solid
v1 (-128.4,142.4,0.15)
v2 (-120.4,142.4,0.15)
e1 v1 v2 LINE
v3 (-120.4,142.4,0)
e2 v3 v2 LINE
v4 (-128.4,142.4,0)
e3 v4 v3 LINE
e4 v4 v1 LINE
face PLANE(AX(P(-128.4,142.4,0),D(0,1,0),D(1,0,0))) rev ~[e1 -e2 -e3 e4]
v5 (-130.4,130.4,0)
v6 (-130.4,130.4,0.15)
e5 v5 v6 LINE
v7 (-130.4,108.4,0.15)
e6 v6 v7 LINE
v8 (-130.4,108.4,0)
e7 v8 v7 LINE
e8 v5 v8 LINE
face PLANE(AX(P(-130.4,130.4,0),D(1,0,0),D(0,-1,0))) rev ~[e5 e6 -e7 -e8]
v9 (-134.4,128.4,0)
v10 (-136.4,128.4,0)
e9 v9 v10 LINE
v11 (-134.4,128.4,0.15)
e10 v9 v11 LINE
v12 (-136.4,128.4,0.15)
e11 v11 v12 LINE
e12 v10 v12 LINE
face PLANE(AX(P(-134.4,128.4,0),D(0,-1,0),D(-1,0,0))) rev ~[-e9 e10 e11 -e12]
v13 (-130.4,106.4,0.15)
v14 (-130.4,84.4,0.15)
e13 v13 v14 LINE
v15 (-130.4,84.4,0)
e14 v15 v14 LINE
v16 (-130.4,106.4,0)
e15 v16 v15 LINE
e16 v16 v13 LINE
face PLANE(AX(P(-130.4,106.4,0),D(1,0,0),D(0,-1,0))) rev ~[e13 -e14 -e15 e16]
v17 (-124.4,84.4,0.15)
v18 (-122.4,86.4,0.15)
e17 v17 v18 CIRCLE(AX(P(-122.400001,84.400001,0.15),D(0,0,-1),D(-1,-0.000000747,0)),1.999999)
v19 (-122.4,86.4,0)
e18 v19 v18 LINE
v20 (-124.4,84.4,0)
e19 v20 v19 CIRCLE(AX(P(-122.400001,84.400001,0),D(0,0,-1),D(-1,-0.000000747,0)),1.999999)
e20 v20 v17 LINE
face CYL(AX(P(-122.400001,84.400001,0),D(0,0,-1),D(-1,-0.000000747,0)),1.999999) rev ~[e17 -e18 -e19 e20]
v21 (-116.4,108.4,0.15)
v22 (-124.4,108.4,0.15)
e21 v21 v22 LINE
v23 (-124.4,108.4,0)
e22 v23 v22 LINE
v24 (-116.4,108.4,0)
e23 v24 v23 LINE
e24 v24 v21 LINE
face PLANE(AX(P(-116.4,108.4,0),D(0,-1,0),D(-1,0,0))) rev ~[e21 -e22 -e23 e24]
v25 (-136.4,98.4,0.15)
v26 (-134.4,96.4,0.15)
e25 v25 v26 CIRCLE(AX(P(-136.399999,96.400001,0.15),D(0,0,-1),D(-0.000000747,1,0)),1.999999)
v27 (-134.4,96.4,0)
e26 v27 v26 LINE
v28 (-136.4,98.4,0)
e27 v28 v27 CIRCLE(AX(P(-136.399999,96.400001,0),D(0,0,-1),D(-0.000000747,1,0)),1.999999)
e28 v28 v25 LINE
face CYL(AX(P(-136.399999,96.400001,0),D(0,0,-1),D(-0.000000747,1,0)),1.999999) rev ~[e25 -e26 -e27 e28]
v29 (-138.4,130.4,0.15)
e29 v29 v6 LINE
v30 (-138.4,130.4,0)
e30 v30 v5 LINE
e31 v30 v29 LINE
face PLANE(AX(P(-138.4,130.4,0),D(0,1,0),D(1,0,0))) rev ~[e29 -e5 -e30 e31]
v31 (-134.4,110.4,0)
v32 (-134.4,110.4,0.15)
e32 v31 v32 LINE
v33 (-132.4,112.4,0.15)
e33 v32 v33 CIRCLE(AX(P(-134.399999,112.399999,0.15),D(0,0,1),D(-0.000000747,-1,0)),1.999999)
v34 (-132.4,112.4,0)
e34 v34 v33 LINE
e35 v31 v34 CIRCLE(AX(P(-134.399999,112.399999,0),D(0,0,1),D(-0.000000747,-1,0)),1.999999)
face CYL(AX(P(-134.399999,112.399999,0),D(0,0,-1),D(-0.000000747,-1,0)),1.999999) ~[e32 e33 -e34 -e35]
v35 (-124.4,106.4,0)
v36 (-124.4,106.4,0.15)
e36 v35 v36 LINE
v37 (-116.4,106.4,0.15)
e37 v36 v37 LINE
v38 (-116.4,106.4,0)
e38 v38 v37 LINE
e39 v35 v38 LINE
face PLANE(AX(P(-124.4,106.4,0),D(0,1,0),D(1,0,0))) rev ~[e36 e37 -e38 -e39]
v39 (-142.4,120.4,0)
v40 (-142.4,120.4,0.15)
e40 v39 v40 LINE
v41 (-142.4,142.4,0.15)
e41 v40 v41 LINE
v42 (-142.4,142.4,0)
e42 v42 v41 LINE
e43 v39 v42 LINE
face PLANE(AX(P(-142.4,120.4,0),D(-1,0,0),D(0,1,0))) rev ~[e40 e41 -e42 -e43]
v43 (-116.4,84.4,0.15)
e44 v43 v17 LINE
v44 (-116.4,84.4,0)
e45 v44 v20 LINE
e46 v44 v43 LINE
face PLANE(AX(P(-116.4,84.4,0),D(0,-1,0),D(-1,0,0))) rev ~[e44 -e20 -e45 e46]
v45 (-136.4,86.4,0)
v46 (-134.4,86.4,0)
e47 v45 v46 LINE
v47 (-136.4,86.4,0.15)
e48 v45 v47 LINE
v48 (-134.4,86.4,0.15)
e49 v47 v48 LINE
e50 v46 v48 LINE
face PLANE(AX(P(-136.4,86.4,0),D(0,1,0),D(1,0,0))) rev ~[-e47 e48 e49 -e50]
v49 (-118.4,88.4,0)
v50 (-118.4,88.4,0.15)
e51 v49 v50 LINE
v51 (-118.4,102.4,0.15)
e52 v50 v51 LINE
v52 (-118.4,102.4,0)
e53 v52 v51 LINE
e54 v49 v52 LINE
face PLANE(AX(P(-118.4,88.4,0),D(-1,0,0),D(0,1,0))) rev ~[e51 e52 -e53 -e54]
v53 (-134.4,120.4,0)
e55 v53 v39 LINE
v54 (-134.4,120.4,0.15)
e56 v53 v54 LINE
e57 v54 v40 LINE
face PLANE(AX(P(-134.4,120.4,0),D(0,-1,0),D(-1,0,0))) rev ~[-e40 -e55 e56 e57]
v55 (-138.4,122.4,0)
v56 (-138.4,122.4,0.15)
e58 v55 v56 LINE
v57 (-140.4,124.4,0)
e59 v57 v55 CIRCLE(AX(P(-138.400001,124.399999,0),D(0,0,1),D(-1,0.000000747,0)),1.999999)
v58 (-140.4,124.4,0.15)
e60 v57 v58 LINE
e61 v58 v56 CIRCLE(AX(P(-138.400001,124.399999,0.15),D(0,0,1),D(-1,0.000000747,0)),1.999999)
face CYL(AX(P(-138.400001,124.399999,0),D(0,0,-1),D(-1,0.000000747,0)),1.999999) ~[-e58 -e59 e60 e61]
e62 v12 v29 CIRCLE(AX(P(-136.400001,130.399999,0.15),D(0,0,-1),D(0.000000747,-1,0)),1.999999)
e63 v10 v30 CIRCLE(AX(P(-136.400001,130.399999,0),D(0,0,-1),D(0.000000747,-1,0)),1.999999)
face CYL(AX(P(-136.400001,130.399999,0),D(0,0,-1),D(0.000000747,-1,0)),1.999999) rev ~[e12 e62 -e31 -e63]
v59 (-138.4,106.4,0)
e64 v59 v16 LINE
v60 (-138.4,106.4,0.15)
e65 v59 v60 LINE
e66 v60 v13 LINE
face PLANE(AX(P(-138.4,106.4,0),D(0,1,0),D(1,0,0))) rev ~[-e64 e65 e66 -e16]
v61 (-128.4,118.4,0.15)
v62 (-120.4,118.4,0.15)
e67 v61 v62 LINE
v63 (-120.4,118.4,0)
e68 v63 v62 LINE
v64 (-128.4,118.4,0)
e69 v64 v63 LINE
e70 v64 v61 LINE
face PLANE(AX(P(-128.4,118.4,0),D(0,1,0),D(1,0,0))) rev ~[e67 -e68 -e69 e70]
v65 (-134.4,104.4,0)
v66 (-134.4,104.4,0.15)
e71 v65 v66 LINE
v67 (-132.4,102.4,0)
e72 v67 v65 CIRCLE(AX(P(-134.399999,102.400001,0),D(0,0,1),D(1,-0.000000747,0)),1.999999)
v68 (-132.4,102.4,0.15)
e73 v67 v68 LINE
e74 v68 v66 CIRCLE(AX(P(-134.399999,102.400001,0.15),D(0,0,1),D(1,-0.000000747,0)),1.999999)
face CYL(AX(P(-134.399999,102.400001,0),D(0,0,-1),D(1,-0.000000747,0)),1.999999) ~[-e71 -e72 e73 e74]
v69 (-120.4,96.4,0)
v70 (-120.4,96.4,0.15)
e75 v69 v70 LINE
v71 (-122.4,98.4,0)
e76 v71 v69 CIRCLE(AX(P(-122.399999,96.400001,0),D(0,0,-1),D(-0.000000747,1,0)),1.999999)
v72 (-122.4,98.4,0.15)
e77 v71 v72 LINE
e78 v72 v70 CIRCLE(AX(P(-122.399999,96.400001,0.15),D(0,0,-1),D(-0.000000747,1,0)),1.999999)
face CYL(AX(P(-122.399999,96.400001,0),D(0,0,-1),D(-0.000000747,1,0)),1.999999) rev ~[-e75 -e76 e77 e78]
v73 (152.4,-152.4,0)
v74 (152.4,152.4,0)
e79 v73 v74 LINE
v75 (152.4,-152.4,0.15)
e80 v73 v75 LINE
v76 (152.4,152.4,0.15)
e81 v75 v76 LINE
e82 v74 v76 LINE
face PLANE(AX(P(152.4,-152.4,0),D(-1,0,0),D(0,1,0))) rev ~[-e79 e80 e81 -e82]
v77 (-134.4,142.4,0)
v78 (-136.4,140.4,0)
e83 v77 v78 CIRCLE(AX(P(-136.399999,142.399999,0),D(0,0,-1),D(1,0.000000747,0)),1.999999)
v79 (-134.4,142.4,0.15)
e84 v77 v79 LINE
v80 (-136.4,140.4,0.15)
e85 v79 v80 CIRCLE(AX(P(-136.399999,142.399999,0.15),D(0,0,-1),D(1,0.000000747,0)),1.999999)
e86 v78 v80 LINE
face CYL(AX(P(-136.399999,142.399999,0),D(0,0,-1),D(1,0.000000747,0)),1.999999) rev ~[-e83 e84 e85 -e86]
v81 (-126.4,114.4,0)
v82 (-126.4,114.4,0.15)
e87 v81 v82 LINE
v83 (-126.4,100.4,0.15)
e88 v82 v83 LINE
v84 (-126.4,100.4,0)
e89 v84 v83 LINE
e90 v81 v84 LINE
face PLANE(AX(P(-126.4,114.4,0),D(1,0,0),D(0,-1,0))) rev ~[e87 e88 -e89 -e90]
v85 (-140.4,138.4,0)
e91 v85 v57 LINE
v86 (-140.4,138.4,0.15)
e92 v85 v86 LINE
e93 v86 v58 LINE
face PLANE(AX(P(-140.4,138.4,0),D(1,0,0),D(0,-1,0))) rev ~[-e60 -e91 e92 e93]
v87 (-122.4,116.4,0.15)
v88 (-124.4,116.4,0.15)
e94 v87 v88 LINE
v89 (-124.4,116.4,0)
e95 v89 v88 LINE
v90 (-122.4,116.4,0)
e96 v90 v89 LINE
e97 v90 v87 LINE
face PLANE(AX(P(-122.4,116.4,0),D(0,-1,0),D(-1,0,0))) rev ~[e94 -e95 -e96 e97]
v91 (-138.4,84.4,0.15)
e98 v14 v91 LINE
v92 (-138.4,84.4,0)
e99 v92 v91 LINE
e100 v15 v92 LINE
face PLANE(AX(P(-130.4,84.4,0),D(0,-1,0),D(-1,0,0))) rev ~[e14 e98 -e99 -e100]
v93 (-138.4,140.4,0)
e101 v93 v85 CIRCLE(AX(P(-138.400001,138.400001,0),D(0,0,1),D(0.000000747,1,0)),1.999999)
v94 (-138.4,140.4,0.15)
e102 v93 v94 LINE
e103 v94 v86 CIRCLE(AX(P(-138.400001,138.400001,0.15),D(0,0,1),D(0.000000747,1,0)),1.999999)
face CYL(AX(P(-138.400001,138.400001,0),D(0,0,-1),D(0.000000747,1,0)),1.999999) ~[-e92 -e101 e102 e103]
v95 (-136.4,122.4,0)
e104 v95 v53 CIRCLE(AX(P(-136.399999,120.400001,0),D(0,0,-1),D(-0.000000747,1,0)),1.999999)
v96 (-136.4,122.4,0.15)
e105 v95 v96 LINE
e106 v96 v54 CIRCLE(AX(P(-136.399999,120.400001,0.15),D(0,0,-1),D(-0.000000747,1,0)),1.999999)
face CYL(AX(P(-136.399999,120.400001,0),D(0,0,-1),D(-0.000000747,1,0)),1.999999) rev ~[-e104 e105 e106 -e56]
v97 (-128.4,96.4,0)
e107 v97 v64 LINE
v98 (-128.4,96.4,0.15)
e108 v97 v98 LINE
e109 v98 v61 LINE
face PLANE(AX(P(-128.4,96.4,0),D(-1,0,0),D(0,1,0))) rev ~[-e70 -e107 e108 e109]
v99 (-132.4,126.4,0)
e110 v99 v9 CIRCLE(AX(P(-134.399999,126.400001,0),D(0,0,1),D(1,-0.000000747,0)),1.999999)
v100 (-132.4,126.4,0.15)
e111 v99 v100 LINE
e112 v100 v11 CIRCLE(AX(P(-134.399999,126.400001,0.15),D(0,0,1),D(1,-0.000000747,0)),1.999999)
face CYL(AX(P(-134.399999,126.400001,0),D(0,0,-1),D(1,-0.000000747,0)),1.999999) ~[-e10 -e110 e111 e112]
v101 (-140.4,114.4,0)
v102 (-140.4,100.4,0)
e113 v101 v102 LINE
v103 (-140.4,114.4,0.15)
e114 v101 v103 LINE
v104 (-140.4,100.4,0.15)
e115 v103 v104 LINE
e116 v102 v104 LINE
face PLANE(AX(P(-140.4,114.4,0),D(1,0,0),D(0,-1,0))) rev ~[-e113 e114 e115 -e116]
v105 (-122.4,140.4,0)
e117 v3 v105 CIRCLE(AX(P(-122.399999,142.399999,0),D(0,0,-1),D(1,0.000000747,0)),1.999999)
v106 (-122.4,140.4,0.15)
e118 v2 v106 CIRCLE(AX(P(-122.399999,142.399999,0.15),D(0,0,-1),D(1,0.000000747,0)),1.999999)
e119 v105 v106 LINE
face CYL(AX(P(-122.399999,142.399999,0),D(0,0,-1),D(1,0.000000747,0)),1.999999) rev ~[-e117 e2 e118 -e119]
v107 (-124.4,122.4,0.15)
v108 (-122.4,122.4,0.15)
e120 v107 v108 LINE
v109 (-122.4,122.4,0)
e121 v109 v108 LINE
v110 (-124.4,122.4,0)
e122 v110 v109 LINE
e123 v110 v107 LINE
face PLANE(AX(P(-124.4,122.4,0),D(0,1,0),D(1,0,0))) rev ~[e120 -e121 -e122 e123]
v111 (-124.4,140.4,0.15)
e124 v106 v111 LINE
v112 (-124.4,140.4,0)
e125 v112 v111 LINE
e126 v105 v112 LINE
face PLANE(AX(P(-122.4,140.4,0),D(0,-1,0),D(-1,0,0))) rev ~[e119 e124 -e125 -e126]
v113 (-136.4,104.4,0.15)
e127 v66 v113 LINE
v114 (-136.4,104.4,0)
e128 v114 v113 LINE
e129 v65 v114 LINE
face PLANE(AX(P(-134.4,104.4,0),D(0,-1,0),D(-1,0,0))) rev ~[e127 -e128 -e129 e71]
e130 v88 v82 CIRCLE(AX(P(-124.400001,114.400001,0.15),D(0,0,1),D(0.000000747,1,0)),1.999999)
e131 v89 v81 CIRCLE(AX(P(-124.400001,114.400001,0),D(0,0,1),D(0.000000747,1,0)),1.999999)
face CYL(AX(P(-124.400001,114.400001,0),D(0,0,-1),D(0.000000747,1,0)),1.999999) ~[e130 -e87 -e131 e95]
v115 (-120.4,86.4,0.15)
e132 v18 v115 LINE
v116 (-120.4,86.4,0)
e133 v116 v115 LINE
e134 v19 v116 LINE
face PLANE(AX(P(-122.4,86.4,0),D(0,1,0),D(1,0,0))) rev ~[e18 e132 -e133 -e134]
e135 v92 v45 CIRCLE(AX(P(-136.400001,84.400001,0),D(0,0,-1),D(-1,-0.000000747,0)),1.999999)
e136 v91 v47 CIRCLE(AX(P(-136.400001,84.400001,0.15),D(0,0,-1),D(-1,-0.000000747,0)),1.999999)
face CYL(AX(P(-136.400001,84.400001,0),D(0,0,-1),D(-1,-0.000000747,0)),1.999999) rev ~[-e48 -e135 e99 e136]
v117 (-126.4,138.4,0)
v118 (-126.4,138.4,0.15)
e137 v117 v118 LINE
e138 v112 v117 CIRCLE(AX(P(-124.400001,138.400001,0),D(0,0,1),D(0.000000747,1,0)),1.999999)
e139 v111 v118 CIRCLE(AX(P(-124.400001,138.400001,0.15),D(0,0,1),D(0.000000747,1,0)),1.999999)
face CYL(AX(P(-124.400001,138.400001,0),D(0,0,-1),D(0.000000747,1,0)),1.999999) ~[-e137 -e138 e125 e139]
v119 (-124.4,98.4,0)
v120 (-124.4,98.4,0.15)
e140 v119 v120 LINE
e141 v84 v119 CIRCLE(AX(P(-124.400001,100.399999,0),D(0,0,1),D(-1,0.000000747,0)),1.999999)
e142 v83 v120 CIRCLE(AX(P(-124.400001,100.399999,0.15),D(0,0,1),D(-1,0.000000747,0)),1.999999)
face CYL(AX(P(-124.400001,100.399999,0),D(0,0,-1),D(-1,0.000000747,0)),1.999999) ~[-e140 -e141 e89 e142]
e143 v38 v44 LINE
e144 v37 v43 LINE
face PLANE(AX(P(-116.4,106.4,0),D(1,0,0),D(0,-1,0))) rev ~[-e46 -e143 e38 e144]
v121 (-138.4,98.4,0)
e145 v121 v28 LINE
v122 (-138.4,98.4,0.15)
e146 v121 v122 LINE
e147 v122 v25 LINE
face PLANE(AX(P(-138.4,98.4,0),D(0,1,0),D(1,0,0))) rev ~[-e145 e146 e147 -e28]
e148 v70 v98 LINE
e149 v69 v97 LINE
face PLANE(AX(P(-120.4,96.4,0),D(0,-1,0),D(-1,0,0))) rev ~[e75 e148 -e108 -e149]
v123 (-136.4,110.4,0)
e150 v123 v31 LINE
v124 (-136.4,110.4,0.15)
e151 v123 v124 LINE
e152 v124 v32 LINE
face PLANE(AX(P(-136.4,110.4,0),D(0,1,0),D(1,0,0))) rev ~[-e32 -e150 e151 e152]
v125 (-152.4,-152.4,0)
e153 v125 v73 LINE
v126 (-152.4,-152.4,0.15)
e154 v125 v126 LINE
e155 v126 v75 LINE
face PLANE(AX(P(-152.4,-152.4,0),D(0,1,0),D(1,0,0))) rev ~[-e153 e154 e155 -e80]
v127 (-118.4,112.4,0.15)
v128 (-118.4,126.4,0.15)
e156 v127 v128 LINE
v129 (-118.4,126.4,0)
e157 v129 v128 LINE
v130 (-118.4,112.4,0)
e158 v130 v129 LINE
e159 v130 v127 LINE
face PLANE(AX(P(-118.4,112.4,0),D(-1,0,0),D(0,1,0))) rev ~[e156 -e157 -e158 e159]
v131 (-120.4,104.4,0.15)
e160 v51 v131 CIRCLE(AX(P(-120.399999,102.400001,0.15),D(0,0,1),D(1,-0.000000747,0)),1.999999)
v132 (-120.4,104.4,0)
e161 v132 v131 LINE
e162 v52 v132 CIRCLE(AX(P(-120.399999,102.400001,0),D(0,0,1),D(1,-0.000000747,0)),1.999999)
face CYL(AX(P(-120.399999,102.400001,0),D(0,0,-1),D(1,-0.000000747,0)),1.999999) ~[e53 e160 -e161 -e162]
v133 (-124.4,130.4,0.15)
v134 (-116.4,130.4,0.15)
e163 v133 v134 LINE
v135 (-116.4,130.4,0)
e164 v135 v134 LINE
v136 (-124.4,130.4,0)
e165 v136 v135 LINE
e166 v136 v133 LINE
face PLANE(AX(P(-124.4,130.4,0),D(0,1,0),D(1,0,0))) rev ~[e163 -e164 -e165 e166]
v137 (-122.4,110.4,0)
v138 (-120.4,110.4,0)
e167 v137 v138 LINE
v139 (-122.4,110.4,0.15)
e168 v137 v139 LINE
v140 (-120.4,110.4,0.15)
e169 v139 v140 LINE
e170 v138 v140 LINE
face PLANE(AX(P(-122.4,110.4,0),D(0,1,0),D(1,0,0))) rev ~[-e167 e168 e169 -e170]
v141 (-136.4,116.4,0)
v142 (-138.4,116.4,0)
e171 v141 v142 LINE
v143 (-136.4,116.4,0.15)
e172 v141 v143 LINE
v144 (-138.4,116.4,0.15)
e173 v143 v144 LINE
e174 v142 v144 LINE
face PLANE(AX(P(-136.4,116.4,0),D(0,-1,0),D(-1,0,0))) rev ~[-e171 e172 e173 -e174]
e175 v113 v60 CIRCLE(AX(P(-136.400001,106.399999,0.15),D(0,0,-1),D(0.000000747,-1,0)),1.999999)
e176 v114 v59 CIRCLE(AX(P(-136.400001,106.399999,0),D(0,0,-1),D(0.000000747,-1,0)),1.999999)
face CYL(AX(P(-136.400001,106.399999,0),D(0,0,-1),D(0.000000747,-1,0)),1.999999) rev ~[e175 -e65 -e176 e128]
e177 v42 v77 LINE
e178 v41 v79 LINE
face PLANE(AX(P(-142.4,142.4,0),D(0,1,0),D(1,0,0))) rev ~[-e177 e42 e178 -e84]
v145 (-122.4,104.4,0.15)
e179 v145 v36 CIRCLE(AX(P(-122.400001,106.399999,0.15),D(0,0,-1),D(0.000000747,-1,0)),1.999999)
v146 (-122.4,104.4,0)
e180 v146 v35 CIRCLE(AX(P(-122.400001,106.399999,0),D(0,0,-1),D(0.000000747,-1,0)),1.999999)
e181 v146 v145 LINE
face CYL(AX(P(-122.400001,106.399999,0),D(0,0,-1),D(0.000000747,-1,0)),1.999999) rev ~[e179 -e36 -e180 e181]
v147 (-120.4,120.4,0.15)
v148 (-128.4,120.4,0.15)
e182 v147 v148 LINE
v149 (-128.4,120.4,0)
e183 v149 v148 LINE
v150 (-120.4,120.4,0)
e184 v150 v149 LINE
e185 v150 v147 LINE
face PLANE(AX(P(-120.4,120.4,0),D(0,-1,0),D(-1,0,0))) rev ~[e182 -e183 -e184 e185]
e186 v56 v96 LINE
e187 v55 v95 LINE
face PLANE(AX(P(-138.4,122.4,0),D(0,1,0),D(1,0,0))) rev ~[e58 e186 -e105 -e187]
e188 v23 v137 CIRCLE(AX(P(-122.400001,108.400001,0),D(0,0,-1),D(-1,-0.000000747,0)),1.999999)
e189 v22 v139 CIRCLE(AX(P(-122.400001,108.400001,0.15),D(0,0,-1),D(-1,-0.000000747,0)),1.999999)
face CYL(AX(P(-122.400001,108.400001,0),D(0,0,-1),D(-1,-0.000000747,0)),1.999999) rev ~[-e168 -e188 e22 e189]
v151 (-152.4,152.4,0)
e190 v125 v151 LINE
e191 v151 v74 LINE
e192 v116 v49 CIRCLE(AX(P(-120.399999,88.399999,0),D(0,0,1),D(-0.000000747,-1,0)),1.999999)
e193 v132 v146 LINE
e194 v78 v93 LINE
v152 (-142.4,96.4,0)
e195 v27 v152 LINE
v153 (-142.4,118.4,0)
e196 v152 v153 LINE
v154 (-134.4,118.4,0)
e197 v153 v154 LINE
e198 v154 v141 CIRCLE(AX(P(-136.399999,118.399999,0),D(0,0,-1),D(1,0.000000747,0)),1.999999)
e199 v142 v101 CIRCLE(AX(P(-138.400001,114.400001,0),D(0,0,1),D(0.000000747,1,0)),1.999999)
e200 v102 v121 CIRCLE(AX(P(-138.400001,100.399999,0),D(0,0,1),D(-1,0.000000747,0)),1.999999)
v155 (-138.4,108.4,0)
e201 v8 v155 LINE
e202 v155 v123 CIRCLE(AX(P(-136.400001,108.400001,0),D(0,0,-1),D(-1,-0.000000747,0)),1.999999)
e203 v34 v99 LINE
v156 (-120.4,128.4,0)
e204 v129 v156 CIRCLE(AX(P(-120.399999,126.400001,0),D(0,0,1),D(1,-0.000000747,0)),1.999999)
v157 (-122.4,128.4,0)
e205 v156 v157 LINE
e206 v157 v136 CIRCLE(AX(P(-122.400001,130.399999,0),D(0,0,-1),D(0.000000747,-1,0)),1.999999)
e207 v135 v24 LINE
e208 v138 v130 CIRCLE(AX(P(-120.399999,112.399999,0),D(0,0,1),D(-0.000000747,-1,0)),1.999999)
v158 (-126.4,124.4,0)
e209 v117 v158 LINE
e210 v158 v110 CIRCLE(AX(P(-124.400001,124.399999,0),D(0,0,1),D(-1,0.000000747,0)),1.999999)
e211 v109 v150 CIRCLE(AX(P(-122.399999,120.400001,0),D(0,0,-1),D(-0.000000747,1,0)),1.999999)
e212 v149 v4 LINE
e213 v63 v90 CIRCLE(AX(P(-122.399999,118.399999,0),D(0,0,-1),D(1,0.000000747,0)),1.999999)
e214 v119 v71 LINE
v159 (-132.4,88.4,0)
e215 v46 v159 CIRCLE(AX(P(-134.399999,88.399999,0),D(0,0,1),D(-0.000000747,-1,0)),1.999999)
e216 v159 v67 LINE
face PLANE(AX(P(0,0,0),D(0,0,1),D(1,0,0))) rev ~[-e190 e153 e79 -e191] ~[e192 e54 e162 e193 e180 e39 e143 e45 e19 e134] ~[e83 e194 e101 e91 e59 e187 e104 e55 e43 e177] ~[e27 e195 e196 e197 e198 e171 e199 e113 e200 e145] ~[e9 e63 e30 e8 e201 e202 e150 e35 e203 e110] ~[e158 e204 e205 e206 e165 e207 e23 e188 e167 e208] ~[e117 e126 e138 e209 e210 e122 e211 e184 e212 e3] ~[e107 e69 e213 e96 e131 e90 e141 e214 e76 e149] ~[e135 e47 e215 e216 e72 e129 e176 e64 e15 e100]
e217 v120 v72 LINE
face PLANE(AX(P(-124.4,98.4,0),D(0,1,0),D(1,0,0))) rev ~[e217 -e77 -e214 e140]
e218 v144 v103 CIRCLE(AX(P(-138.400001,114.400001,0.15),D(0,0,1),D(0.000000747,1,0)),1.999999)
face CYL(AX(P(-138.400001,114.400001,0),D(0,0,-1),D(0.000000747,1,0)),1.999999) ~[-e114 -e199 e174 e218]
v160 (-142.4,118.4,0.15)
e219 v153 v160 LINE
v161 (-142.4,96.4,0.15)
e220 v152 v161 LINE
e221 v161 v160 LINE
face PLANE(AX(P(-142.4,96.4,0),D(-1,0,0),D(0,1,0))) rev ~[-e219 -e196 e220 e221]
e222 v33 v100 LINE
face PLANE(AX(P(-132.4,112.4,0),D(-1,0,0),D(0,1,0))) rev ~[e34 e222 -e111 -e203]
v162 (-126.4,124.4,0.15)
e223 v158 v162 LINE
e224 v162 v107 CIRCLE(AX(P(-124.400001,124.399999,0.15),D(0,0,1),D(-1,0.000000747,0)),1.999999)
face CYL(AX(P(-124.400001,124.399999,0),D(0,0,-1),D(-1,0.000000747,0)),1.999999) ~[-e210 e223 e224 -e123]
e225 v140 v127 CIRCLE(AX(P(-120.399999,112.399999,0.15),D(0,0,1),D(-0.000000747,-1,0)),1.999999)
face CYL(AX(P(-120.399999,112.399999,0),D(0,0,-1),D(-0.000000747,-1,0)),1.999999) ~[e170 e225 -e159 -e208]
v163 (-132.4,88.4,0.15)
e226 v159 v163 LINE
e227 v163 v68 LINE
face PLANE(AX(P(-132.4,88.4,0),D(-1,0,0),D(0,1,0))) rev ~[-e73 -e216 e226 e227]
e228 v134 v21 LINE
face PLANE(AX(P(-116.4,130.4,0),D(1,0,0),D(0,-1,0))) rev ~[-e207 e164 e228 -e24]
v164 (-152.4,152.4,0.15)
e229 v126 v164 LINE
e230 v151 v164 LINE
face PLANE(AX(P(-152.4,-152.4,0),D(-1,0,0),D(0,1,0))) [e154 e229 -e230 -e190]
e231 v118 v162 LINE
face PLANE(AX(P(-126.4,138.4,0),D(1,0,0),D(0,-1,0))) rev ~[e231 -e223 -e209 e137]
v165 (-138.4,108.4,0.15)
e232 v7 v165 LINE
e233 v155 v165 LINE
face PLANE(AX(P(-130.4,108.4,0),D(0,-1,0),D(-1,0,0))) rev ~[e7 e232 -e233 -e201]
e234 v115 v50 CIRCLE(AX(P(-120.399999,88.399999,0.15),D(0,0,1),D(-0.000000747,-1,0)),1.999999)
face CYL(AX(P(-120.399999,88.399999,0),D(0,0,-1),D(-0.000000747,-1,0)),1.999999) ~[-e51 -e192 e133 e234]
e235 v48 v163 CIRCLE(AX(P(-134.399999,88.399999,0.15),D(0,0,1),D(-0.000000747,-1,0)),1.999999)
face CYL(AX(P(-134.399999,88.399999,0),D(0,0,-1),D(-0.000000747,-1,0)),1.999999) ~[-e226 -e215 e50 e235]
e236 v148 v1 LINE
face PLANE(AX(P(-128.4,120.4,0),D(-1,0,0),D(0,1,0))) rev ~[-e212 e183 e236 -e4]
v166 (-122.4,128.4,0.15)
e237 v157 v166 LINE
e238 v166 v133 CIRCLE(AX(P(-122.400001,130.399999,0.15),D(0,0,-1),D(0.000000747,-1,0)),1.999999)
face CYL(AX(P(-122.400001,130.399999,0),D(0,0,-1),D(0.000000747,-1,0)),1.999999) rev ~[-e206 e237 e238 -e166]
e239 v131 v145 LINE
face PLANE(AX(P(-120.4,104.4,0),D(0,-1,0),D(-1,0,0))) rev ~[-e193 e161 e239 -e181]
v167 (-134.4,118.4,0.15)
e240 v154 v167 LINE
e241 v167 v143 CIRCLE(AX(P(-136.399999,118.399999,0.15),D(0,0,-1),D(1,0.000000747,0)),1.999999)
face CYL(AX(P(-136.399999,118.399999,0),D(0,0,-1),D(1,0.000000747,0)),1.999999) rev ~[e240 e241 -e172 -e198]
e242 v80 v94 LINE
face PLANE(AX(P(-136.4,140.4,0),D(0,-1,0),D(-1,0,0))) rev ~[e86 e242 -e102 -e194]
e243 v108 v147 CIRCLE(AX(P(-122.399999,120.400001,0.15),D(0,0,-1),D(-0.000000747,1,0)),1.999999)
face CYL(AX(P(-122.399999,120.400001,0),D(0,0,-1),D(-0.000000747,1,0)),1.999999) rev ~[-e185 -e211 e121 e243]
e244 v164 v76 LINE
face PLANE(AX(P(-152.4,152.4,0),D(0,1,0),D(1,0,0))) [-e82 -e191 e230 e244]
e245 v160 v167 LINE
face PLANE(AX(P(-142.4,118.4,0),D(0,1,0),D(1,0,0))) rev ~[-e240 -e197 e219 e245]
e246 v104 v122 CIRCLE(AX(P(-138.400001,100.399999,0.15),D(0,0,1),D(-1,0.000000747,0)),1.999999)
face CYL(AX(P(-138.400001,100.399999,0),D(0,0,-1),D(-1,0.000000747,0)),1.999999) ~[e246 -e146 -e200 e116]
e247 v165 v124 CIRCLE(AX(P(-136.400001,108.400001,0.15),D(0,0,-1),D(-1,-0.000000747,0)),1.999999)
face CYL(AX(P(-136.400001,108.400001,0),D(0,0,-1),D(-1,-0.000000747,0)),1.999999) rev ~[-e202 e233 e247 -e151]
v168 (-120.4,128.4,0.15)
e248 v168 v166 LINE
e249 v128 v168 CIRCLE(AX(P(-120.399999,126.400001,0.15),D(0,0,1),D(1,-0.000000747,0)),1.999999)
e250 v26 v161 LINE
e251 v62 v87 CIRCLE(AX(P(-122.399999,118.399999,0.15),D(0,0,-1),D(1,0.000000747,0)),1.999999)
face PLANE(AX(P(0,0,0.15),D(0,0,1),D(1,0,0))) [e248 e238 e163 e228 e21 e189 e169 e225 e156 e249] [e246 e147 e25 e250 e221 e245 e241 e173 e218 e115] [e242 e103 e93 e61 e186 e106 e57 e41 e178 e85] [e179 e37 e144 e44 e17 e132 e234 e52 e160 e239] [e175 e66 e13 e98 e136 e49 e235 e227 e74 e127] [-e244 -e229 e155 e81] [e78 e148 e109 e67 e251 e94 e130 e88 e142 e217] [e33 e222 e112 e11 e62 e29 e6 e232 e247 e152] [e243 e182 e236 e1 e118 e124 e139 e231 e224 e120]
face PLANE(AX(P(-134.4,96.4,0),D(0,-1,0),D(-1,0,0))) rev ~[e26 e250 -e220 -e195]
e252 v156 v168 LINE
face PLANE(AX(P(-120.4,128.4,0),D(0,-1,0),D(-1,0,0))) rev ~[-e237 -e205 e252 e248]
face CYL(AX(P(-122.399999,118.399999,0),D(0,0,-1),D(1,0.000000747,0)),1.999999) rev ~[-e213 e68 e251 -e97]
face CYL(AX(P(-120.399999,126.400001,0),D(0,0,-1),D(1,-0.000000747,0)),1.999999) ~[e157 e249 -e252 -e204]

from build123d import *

# Parameters (mm, degrees)
F0_W     = 304.8
F0_H     = 304.8
F1_DEPTH = 0.15


with BuildPart() as f1:
    # F0 (on Top) → F1 (new body)
    with BuildSketch(Plane.XY):
        Rectangle(F0_W, F0_H)
        with BuildLine():
            Line((-132.4, 88.4), (-132.4, 95.4))
            Line((-132.4, 95.4), (-132.4, 102.4))
            ThreePointArc((-132.4, 102.4), (-132.985786, 103.814214), (-134.4, 104.4))
            Line((-134.4, 104.4), (-136.4, 104.4))
            ThreePointArc((-136.4, 104.4), (-137.814214, 104.985786), (-138.4, 106.4))
            Line((-138.4, 106.4), (-130.4, 106.4))
            Line((-130.4, 106.4), (-130.4, 95.4))
            Line((-130.4, 95.4), (-130.4, 84.4))
            Line((-130.4, 84.4), (-138.4, 84.4))
            ThreePointArc((-138.4, 84.4), (-137.814214, 85.814214), (-136.4, 86.4))
            Line((-136.4, 86.4), (-134.4, 86.4))
            ThreePointArc((-134.4, 86.4), (-132.985786, 86.985786), (-132.4, 88.4))
        make_face(mode=Mode.SUBTRACT)
        with BuildLine():
            Line((-140.4, 114.4), (-140.4, 107.4))
            Line((-140.4, 107.4), (-140.4, 100.4))
            ThreePointArc((-140.4, 100.4), (-139.814214, 98.985786), (-138.4, 98.4))
            Line((-138.4, 98.4), (-136.4, 98.4))
            ThreePointArc((-136.4, 98.4), (-134.985786, 97.814214), (-134.4, 96.4))
            Line((-134.4, 96.4), (-142.4, 96.4))
            Line((-142.4, 96.4), (-142.4, 107.4))
            Line((-142.4, 107.4), (-142.4, 118.4))
            Line((-142.4, 118.4), (-134.4, 118.4))
            ThreePointArc((-134.4, 118.4), (-134.985786, 116.985786), (-136.4, 116.4))
            Line((-136.4, 116.4), (-138.4, 116.4))
            ThreePointArc((-138.4, 116.4), (-139.814214, 115.814214), (-140.4, 114.4))
        make_face(mode=Mode.SUBTRACT)
        with BuildLine():
            Line((-118.4, 88.4), (-118.4, 95.4))
            Line((-118.4, 95.4), (-118.4, 102.4))
            ThreePointArc((-118.4, 102.4), (-118.985786, 103.814214), (-120.4, 104.4))
            Line((-120.4, 104.4), (-122.4, 104.4))
            ThreePointArc((-122.4, 104.4), (-123.814214, 104.985786), (-124.4, 106.4))
            Line((-124.4, 106.4), (-116.4, 106.4))
            Line((-116.4, 106.4), (-116.4, 95.4))
            Line((-116.4, 95.4), (-116.4, 84.4))
            Line((-116.4, 84.4), (-124.4, 84.4))
            ThreePointArc((-124.4, 84.4), (-123.814214, 85.814214), (-122.4, 86.4))
            Line((-122.4, 86.4), (-120.4, 86.4))
            ThreePointArc((-120.4, 86.4), (-118.985786, 86.985786), (-118.4, 88.4))
        make_face(mode=Mode.SUBTRACT)
        with BuildLine():
            Line((-126.4, 114.4), (-126.4, 107.4))
            Line((-126.4, 107.4), (-126.4, 100.4))
            ThreePointArc((-126.4, 100.4), (-125.814214, 98.985786), (-124.4, 98.4))
            Line((-124.4, 98.4), (-122.4, 98.4))
            ThreePointArc((-122.4, 98.4), (-120.985786, 97.814214), (-120.4, 96.4))
            Line((-120.4, 96.4), (-128.4, 96.4))
            Line((-128.4, 96.4), (-128.4, 107.4))
            Line((-128.4, 107.4), (-128.4, 118.4))
            Line((-128.4, 118.4), (-120.4, 118.4))
            ThreePointArc((-120.4, 118.4), (-120.985786, 116.985786), (-122.4, 116.4))
            Line((-122.4, 116.4), (-124.4, 116.4))
            ThreePointArc((-124.4, 116.4), (-125.814214, 115.814214), (-126.4, 114.4))
        make_face(mode=Mode.SUBTRACT)
        with BuildLine():
            Line((-130.4, 108.4), (-138.4, 108.4))
            ThreePointArc((-138.4, 108.4), (-137.814214, 109.814214), (-136.4, 110.4))
            Line((-136.4, 110.4), (-134.4, 110.4))
            ThreePointArc((-134.4, 110.4), (-132.985786, 110.985786), (-132.4, 112.4))
            Line((-132.4, 112.4), (-132.4, 119.4))
            Line((-132.4, 119.4), (-132.4, 126.4))
            ThreePointArc((-132.4, 126.4), (-132.985786, 127.814214), (-134.4, 128.4))
            Line((-134.4, 128.4), (-136.4, 128.4))
            ThreePointArc((-136.4, 128.4), (-137.814214, 128.985786), (-138.4, 130.4))
            Line((-138.4, 130.4), (-130.4, 130.4))
            Line((-130.4, 130.4), (-130.4, 119.4))
            Line((-130.4, 119.4), (-130.4, 108.4))
        make_face(mode=Mode.SUBTRACT)
        with BuildLine():
            Line((-142.4, 142.4), (-134.4, 142.4))
            ThreePointArc((-134.4, 142.4), (-134.985786, 140.985786), (-136.4, 140.4))
            Line((-136.4, 140.4), (-138.4, 140.4))
            ThreePointArc((-138.4, 140.4), (-139.814214, 139.814214), (-140.4, 138.4))
            Line((-140.4, 138.4), (-140.4, 131.4))
            Line((-140.4, 131.4), (-140.4, 124.4))
            ThreePointArc((-140.4, 124.4), (-139.814214, 122.985786), (-138.4, 122.4))
            Line((-138.4, 122.4), (-136.4, 122.4))
            ThreePointArc((-136.4, 122.4), (-134.985786, 121.814214), (-134.4, 120.4))
            Line((-134.4, 120.4), (-142.4, 120.4))
            Line((-142.4, 120.4), (-142.4, 131.4))
            Line((-142.4, 131.4), (-142.4, 142.4))
        make_face(mode=Mode.SUBTRACT)
        with BuildLine():
            Line((-118.4, 112.4), (-118.4, 119.4))
            Line((-118.4, 119.4), (-118.4, 126.4))
            ThreePointArc((-118.4, 126.4), (-118.985786, 127.814214), (-120.4, 128.4))
            Line((-120.4, 128.4), (-122.4, 128.4))
            ThreePointArc((-122.4, 128.4), (-123.814214, 128.985786), (-124.4, 130.4))
            Line((-124.4, 130.4), (-116.4, 130.4))
            Line((-116.4, 130.4), (-116.4, 119.4))
            Line((-116.4, 119.4), (-116.4, 108.4))
            Line((-116.4, 108.4), (-124.4, 108.4))
            ThreePointArc((-124.4, 108.4), (-123.814214, 109.814214), (-122.4, 110.4))
            Line((-122.4, 110.4), (-120.4, 110.4))
            ThreePointArc((-120.4, 110.4), (-118.985786, 110.985786), (-118.4, 112.4))
        make_face(mode=Mode.SUBTRACT)
        with BuildLine():
            Line((-126.4, 138.4), (-126.4, 131.4))
            Line((-126.4, 131.4), (-126.4, 124.4))
            ThreePointArc((-126.4, 124.4), (-125.814214, 122.985786), (-124.4, 122.4))
            Line((-124.4, 122.4), (-122.4, 122.4))
            ThreePointArc((-122.4, 122.4), (-120.985786, 121.814214), (-120.4, 120.4))
            Line((-120.4, 120.4), (-128.4, 120.4))
            Line((-128.4, 120.4), (-128.4, 131.4))
            Line((-128.4, 131.4), (-128.4, 142.4))
            Line((-128.4, 142.4), (-120.4, 142.4))
            ThreePointArc((-120.4, 142.4), (-120.985786, 140.985786), (-122.4, 140.4))
            Line((-122.4, 140.4), (-124.4, 140.4))
            ThreePointArc((-124.4, 140.4), (-125.814214, 139.814214), (-126.4, 138.4))
        make_face(mode=Mode.SUBTRACT)
    extrude(amount=F1_DEPTH)


solid = f1.part
